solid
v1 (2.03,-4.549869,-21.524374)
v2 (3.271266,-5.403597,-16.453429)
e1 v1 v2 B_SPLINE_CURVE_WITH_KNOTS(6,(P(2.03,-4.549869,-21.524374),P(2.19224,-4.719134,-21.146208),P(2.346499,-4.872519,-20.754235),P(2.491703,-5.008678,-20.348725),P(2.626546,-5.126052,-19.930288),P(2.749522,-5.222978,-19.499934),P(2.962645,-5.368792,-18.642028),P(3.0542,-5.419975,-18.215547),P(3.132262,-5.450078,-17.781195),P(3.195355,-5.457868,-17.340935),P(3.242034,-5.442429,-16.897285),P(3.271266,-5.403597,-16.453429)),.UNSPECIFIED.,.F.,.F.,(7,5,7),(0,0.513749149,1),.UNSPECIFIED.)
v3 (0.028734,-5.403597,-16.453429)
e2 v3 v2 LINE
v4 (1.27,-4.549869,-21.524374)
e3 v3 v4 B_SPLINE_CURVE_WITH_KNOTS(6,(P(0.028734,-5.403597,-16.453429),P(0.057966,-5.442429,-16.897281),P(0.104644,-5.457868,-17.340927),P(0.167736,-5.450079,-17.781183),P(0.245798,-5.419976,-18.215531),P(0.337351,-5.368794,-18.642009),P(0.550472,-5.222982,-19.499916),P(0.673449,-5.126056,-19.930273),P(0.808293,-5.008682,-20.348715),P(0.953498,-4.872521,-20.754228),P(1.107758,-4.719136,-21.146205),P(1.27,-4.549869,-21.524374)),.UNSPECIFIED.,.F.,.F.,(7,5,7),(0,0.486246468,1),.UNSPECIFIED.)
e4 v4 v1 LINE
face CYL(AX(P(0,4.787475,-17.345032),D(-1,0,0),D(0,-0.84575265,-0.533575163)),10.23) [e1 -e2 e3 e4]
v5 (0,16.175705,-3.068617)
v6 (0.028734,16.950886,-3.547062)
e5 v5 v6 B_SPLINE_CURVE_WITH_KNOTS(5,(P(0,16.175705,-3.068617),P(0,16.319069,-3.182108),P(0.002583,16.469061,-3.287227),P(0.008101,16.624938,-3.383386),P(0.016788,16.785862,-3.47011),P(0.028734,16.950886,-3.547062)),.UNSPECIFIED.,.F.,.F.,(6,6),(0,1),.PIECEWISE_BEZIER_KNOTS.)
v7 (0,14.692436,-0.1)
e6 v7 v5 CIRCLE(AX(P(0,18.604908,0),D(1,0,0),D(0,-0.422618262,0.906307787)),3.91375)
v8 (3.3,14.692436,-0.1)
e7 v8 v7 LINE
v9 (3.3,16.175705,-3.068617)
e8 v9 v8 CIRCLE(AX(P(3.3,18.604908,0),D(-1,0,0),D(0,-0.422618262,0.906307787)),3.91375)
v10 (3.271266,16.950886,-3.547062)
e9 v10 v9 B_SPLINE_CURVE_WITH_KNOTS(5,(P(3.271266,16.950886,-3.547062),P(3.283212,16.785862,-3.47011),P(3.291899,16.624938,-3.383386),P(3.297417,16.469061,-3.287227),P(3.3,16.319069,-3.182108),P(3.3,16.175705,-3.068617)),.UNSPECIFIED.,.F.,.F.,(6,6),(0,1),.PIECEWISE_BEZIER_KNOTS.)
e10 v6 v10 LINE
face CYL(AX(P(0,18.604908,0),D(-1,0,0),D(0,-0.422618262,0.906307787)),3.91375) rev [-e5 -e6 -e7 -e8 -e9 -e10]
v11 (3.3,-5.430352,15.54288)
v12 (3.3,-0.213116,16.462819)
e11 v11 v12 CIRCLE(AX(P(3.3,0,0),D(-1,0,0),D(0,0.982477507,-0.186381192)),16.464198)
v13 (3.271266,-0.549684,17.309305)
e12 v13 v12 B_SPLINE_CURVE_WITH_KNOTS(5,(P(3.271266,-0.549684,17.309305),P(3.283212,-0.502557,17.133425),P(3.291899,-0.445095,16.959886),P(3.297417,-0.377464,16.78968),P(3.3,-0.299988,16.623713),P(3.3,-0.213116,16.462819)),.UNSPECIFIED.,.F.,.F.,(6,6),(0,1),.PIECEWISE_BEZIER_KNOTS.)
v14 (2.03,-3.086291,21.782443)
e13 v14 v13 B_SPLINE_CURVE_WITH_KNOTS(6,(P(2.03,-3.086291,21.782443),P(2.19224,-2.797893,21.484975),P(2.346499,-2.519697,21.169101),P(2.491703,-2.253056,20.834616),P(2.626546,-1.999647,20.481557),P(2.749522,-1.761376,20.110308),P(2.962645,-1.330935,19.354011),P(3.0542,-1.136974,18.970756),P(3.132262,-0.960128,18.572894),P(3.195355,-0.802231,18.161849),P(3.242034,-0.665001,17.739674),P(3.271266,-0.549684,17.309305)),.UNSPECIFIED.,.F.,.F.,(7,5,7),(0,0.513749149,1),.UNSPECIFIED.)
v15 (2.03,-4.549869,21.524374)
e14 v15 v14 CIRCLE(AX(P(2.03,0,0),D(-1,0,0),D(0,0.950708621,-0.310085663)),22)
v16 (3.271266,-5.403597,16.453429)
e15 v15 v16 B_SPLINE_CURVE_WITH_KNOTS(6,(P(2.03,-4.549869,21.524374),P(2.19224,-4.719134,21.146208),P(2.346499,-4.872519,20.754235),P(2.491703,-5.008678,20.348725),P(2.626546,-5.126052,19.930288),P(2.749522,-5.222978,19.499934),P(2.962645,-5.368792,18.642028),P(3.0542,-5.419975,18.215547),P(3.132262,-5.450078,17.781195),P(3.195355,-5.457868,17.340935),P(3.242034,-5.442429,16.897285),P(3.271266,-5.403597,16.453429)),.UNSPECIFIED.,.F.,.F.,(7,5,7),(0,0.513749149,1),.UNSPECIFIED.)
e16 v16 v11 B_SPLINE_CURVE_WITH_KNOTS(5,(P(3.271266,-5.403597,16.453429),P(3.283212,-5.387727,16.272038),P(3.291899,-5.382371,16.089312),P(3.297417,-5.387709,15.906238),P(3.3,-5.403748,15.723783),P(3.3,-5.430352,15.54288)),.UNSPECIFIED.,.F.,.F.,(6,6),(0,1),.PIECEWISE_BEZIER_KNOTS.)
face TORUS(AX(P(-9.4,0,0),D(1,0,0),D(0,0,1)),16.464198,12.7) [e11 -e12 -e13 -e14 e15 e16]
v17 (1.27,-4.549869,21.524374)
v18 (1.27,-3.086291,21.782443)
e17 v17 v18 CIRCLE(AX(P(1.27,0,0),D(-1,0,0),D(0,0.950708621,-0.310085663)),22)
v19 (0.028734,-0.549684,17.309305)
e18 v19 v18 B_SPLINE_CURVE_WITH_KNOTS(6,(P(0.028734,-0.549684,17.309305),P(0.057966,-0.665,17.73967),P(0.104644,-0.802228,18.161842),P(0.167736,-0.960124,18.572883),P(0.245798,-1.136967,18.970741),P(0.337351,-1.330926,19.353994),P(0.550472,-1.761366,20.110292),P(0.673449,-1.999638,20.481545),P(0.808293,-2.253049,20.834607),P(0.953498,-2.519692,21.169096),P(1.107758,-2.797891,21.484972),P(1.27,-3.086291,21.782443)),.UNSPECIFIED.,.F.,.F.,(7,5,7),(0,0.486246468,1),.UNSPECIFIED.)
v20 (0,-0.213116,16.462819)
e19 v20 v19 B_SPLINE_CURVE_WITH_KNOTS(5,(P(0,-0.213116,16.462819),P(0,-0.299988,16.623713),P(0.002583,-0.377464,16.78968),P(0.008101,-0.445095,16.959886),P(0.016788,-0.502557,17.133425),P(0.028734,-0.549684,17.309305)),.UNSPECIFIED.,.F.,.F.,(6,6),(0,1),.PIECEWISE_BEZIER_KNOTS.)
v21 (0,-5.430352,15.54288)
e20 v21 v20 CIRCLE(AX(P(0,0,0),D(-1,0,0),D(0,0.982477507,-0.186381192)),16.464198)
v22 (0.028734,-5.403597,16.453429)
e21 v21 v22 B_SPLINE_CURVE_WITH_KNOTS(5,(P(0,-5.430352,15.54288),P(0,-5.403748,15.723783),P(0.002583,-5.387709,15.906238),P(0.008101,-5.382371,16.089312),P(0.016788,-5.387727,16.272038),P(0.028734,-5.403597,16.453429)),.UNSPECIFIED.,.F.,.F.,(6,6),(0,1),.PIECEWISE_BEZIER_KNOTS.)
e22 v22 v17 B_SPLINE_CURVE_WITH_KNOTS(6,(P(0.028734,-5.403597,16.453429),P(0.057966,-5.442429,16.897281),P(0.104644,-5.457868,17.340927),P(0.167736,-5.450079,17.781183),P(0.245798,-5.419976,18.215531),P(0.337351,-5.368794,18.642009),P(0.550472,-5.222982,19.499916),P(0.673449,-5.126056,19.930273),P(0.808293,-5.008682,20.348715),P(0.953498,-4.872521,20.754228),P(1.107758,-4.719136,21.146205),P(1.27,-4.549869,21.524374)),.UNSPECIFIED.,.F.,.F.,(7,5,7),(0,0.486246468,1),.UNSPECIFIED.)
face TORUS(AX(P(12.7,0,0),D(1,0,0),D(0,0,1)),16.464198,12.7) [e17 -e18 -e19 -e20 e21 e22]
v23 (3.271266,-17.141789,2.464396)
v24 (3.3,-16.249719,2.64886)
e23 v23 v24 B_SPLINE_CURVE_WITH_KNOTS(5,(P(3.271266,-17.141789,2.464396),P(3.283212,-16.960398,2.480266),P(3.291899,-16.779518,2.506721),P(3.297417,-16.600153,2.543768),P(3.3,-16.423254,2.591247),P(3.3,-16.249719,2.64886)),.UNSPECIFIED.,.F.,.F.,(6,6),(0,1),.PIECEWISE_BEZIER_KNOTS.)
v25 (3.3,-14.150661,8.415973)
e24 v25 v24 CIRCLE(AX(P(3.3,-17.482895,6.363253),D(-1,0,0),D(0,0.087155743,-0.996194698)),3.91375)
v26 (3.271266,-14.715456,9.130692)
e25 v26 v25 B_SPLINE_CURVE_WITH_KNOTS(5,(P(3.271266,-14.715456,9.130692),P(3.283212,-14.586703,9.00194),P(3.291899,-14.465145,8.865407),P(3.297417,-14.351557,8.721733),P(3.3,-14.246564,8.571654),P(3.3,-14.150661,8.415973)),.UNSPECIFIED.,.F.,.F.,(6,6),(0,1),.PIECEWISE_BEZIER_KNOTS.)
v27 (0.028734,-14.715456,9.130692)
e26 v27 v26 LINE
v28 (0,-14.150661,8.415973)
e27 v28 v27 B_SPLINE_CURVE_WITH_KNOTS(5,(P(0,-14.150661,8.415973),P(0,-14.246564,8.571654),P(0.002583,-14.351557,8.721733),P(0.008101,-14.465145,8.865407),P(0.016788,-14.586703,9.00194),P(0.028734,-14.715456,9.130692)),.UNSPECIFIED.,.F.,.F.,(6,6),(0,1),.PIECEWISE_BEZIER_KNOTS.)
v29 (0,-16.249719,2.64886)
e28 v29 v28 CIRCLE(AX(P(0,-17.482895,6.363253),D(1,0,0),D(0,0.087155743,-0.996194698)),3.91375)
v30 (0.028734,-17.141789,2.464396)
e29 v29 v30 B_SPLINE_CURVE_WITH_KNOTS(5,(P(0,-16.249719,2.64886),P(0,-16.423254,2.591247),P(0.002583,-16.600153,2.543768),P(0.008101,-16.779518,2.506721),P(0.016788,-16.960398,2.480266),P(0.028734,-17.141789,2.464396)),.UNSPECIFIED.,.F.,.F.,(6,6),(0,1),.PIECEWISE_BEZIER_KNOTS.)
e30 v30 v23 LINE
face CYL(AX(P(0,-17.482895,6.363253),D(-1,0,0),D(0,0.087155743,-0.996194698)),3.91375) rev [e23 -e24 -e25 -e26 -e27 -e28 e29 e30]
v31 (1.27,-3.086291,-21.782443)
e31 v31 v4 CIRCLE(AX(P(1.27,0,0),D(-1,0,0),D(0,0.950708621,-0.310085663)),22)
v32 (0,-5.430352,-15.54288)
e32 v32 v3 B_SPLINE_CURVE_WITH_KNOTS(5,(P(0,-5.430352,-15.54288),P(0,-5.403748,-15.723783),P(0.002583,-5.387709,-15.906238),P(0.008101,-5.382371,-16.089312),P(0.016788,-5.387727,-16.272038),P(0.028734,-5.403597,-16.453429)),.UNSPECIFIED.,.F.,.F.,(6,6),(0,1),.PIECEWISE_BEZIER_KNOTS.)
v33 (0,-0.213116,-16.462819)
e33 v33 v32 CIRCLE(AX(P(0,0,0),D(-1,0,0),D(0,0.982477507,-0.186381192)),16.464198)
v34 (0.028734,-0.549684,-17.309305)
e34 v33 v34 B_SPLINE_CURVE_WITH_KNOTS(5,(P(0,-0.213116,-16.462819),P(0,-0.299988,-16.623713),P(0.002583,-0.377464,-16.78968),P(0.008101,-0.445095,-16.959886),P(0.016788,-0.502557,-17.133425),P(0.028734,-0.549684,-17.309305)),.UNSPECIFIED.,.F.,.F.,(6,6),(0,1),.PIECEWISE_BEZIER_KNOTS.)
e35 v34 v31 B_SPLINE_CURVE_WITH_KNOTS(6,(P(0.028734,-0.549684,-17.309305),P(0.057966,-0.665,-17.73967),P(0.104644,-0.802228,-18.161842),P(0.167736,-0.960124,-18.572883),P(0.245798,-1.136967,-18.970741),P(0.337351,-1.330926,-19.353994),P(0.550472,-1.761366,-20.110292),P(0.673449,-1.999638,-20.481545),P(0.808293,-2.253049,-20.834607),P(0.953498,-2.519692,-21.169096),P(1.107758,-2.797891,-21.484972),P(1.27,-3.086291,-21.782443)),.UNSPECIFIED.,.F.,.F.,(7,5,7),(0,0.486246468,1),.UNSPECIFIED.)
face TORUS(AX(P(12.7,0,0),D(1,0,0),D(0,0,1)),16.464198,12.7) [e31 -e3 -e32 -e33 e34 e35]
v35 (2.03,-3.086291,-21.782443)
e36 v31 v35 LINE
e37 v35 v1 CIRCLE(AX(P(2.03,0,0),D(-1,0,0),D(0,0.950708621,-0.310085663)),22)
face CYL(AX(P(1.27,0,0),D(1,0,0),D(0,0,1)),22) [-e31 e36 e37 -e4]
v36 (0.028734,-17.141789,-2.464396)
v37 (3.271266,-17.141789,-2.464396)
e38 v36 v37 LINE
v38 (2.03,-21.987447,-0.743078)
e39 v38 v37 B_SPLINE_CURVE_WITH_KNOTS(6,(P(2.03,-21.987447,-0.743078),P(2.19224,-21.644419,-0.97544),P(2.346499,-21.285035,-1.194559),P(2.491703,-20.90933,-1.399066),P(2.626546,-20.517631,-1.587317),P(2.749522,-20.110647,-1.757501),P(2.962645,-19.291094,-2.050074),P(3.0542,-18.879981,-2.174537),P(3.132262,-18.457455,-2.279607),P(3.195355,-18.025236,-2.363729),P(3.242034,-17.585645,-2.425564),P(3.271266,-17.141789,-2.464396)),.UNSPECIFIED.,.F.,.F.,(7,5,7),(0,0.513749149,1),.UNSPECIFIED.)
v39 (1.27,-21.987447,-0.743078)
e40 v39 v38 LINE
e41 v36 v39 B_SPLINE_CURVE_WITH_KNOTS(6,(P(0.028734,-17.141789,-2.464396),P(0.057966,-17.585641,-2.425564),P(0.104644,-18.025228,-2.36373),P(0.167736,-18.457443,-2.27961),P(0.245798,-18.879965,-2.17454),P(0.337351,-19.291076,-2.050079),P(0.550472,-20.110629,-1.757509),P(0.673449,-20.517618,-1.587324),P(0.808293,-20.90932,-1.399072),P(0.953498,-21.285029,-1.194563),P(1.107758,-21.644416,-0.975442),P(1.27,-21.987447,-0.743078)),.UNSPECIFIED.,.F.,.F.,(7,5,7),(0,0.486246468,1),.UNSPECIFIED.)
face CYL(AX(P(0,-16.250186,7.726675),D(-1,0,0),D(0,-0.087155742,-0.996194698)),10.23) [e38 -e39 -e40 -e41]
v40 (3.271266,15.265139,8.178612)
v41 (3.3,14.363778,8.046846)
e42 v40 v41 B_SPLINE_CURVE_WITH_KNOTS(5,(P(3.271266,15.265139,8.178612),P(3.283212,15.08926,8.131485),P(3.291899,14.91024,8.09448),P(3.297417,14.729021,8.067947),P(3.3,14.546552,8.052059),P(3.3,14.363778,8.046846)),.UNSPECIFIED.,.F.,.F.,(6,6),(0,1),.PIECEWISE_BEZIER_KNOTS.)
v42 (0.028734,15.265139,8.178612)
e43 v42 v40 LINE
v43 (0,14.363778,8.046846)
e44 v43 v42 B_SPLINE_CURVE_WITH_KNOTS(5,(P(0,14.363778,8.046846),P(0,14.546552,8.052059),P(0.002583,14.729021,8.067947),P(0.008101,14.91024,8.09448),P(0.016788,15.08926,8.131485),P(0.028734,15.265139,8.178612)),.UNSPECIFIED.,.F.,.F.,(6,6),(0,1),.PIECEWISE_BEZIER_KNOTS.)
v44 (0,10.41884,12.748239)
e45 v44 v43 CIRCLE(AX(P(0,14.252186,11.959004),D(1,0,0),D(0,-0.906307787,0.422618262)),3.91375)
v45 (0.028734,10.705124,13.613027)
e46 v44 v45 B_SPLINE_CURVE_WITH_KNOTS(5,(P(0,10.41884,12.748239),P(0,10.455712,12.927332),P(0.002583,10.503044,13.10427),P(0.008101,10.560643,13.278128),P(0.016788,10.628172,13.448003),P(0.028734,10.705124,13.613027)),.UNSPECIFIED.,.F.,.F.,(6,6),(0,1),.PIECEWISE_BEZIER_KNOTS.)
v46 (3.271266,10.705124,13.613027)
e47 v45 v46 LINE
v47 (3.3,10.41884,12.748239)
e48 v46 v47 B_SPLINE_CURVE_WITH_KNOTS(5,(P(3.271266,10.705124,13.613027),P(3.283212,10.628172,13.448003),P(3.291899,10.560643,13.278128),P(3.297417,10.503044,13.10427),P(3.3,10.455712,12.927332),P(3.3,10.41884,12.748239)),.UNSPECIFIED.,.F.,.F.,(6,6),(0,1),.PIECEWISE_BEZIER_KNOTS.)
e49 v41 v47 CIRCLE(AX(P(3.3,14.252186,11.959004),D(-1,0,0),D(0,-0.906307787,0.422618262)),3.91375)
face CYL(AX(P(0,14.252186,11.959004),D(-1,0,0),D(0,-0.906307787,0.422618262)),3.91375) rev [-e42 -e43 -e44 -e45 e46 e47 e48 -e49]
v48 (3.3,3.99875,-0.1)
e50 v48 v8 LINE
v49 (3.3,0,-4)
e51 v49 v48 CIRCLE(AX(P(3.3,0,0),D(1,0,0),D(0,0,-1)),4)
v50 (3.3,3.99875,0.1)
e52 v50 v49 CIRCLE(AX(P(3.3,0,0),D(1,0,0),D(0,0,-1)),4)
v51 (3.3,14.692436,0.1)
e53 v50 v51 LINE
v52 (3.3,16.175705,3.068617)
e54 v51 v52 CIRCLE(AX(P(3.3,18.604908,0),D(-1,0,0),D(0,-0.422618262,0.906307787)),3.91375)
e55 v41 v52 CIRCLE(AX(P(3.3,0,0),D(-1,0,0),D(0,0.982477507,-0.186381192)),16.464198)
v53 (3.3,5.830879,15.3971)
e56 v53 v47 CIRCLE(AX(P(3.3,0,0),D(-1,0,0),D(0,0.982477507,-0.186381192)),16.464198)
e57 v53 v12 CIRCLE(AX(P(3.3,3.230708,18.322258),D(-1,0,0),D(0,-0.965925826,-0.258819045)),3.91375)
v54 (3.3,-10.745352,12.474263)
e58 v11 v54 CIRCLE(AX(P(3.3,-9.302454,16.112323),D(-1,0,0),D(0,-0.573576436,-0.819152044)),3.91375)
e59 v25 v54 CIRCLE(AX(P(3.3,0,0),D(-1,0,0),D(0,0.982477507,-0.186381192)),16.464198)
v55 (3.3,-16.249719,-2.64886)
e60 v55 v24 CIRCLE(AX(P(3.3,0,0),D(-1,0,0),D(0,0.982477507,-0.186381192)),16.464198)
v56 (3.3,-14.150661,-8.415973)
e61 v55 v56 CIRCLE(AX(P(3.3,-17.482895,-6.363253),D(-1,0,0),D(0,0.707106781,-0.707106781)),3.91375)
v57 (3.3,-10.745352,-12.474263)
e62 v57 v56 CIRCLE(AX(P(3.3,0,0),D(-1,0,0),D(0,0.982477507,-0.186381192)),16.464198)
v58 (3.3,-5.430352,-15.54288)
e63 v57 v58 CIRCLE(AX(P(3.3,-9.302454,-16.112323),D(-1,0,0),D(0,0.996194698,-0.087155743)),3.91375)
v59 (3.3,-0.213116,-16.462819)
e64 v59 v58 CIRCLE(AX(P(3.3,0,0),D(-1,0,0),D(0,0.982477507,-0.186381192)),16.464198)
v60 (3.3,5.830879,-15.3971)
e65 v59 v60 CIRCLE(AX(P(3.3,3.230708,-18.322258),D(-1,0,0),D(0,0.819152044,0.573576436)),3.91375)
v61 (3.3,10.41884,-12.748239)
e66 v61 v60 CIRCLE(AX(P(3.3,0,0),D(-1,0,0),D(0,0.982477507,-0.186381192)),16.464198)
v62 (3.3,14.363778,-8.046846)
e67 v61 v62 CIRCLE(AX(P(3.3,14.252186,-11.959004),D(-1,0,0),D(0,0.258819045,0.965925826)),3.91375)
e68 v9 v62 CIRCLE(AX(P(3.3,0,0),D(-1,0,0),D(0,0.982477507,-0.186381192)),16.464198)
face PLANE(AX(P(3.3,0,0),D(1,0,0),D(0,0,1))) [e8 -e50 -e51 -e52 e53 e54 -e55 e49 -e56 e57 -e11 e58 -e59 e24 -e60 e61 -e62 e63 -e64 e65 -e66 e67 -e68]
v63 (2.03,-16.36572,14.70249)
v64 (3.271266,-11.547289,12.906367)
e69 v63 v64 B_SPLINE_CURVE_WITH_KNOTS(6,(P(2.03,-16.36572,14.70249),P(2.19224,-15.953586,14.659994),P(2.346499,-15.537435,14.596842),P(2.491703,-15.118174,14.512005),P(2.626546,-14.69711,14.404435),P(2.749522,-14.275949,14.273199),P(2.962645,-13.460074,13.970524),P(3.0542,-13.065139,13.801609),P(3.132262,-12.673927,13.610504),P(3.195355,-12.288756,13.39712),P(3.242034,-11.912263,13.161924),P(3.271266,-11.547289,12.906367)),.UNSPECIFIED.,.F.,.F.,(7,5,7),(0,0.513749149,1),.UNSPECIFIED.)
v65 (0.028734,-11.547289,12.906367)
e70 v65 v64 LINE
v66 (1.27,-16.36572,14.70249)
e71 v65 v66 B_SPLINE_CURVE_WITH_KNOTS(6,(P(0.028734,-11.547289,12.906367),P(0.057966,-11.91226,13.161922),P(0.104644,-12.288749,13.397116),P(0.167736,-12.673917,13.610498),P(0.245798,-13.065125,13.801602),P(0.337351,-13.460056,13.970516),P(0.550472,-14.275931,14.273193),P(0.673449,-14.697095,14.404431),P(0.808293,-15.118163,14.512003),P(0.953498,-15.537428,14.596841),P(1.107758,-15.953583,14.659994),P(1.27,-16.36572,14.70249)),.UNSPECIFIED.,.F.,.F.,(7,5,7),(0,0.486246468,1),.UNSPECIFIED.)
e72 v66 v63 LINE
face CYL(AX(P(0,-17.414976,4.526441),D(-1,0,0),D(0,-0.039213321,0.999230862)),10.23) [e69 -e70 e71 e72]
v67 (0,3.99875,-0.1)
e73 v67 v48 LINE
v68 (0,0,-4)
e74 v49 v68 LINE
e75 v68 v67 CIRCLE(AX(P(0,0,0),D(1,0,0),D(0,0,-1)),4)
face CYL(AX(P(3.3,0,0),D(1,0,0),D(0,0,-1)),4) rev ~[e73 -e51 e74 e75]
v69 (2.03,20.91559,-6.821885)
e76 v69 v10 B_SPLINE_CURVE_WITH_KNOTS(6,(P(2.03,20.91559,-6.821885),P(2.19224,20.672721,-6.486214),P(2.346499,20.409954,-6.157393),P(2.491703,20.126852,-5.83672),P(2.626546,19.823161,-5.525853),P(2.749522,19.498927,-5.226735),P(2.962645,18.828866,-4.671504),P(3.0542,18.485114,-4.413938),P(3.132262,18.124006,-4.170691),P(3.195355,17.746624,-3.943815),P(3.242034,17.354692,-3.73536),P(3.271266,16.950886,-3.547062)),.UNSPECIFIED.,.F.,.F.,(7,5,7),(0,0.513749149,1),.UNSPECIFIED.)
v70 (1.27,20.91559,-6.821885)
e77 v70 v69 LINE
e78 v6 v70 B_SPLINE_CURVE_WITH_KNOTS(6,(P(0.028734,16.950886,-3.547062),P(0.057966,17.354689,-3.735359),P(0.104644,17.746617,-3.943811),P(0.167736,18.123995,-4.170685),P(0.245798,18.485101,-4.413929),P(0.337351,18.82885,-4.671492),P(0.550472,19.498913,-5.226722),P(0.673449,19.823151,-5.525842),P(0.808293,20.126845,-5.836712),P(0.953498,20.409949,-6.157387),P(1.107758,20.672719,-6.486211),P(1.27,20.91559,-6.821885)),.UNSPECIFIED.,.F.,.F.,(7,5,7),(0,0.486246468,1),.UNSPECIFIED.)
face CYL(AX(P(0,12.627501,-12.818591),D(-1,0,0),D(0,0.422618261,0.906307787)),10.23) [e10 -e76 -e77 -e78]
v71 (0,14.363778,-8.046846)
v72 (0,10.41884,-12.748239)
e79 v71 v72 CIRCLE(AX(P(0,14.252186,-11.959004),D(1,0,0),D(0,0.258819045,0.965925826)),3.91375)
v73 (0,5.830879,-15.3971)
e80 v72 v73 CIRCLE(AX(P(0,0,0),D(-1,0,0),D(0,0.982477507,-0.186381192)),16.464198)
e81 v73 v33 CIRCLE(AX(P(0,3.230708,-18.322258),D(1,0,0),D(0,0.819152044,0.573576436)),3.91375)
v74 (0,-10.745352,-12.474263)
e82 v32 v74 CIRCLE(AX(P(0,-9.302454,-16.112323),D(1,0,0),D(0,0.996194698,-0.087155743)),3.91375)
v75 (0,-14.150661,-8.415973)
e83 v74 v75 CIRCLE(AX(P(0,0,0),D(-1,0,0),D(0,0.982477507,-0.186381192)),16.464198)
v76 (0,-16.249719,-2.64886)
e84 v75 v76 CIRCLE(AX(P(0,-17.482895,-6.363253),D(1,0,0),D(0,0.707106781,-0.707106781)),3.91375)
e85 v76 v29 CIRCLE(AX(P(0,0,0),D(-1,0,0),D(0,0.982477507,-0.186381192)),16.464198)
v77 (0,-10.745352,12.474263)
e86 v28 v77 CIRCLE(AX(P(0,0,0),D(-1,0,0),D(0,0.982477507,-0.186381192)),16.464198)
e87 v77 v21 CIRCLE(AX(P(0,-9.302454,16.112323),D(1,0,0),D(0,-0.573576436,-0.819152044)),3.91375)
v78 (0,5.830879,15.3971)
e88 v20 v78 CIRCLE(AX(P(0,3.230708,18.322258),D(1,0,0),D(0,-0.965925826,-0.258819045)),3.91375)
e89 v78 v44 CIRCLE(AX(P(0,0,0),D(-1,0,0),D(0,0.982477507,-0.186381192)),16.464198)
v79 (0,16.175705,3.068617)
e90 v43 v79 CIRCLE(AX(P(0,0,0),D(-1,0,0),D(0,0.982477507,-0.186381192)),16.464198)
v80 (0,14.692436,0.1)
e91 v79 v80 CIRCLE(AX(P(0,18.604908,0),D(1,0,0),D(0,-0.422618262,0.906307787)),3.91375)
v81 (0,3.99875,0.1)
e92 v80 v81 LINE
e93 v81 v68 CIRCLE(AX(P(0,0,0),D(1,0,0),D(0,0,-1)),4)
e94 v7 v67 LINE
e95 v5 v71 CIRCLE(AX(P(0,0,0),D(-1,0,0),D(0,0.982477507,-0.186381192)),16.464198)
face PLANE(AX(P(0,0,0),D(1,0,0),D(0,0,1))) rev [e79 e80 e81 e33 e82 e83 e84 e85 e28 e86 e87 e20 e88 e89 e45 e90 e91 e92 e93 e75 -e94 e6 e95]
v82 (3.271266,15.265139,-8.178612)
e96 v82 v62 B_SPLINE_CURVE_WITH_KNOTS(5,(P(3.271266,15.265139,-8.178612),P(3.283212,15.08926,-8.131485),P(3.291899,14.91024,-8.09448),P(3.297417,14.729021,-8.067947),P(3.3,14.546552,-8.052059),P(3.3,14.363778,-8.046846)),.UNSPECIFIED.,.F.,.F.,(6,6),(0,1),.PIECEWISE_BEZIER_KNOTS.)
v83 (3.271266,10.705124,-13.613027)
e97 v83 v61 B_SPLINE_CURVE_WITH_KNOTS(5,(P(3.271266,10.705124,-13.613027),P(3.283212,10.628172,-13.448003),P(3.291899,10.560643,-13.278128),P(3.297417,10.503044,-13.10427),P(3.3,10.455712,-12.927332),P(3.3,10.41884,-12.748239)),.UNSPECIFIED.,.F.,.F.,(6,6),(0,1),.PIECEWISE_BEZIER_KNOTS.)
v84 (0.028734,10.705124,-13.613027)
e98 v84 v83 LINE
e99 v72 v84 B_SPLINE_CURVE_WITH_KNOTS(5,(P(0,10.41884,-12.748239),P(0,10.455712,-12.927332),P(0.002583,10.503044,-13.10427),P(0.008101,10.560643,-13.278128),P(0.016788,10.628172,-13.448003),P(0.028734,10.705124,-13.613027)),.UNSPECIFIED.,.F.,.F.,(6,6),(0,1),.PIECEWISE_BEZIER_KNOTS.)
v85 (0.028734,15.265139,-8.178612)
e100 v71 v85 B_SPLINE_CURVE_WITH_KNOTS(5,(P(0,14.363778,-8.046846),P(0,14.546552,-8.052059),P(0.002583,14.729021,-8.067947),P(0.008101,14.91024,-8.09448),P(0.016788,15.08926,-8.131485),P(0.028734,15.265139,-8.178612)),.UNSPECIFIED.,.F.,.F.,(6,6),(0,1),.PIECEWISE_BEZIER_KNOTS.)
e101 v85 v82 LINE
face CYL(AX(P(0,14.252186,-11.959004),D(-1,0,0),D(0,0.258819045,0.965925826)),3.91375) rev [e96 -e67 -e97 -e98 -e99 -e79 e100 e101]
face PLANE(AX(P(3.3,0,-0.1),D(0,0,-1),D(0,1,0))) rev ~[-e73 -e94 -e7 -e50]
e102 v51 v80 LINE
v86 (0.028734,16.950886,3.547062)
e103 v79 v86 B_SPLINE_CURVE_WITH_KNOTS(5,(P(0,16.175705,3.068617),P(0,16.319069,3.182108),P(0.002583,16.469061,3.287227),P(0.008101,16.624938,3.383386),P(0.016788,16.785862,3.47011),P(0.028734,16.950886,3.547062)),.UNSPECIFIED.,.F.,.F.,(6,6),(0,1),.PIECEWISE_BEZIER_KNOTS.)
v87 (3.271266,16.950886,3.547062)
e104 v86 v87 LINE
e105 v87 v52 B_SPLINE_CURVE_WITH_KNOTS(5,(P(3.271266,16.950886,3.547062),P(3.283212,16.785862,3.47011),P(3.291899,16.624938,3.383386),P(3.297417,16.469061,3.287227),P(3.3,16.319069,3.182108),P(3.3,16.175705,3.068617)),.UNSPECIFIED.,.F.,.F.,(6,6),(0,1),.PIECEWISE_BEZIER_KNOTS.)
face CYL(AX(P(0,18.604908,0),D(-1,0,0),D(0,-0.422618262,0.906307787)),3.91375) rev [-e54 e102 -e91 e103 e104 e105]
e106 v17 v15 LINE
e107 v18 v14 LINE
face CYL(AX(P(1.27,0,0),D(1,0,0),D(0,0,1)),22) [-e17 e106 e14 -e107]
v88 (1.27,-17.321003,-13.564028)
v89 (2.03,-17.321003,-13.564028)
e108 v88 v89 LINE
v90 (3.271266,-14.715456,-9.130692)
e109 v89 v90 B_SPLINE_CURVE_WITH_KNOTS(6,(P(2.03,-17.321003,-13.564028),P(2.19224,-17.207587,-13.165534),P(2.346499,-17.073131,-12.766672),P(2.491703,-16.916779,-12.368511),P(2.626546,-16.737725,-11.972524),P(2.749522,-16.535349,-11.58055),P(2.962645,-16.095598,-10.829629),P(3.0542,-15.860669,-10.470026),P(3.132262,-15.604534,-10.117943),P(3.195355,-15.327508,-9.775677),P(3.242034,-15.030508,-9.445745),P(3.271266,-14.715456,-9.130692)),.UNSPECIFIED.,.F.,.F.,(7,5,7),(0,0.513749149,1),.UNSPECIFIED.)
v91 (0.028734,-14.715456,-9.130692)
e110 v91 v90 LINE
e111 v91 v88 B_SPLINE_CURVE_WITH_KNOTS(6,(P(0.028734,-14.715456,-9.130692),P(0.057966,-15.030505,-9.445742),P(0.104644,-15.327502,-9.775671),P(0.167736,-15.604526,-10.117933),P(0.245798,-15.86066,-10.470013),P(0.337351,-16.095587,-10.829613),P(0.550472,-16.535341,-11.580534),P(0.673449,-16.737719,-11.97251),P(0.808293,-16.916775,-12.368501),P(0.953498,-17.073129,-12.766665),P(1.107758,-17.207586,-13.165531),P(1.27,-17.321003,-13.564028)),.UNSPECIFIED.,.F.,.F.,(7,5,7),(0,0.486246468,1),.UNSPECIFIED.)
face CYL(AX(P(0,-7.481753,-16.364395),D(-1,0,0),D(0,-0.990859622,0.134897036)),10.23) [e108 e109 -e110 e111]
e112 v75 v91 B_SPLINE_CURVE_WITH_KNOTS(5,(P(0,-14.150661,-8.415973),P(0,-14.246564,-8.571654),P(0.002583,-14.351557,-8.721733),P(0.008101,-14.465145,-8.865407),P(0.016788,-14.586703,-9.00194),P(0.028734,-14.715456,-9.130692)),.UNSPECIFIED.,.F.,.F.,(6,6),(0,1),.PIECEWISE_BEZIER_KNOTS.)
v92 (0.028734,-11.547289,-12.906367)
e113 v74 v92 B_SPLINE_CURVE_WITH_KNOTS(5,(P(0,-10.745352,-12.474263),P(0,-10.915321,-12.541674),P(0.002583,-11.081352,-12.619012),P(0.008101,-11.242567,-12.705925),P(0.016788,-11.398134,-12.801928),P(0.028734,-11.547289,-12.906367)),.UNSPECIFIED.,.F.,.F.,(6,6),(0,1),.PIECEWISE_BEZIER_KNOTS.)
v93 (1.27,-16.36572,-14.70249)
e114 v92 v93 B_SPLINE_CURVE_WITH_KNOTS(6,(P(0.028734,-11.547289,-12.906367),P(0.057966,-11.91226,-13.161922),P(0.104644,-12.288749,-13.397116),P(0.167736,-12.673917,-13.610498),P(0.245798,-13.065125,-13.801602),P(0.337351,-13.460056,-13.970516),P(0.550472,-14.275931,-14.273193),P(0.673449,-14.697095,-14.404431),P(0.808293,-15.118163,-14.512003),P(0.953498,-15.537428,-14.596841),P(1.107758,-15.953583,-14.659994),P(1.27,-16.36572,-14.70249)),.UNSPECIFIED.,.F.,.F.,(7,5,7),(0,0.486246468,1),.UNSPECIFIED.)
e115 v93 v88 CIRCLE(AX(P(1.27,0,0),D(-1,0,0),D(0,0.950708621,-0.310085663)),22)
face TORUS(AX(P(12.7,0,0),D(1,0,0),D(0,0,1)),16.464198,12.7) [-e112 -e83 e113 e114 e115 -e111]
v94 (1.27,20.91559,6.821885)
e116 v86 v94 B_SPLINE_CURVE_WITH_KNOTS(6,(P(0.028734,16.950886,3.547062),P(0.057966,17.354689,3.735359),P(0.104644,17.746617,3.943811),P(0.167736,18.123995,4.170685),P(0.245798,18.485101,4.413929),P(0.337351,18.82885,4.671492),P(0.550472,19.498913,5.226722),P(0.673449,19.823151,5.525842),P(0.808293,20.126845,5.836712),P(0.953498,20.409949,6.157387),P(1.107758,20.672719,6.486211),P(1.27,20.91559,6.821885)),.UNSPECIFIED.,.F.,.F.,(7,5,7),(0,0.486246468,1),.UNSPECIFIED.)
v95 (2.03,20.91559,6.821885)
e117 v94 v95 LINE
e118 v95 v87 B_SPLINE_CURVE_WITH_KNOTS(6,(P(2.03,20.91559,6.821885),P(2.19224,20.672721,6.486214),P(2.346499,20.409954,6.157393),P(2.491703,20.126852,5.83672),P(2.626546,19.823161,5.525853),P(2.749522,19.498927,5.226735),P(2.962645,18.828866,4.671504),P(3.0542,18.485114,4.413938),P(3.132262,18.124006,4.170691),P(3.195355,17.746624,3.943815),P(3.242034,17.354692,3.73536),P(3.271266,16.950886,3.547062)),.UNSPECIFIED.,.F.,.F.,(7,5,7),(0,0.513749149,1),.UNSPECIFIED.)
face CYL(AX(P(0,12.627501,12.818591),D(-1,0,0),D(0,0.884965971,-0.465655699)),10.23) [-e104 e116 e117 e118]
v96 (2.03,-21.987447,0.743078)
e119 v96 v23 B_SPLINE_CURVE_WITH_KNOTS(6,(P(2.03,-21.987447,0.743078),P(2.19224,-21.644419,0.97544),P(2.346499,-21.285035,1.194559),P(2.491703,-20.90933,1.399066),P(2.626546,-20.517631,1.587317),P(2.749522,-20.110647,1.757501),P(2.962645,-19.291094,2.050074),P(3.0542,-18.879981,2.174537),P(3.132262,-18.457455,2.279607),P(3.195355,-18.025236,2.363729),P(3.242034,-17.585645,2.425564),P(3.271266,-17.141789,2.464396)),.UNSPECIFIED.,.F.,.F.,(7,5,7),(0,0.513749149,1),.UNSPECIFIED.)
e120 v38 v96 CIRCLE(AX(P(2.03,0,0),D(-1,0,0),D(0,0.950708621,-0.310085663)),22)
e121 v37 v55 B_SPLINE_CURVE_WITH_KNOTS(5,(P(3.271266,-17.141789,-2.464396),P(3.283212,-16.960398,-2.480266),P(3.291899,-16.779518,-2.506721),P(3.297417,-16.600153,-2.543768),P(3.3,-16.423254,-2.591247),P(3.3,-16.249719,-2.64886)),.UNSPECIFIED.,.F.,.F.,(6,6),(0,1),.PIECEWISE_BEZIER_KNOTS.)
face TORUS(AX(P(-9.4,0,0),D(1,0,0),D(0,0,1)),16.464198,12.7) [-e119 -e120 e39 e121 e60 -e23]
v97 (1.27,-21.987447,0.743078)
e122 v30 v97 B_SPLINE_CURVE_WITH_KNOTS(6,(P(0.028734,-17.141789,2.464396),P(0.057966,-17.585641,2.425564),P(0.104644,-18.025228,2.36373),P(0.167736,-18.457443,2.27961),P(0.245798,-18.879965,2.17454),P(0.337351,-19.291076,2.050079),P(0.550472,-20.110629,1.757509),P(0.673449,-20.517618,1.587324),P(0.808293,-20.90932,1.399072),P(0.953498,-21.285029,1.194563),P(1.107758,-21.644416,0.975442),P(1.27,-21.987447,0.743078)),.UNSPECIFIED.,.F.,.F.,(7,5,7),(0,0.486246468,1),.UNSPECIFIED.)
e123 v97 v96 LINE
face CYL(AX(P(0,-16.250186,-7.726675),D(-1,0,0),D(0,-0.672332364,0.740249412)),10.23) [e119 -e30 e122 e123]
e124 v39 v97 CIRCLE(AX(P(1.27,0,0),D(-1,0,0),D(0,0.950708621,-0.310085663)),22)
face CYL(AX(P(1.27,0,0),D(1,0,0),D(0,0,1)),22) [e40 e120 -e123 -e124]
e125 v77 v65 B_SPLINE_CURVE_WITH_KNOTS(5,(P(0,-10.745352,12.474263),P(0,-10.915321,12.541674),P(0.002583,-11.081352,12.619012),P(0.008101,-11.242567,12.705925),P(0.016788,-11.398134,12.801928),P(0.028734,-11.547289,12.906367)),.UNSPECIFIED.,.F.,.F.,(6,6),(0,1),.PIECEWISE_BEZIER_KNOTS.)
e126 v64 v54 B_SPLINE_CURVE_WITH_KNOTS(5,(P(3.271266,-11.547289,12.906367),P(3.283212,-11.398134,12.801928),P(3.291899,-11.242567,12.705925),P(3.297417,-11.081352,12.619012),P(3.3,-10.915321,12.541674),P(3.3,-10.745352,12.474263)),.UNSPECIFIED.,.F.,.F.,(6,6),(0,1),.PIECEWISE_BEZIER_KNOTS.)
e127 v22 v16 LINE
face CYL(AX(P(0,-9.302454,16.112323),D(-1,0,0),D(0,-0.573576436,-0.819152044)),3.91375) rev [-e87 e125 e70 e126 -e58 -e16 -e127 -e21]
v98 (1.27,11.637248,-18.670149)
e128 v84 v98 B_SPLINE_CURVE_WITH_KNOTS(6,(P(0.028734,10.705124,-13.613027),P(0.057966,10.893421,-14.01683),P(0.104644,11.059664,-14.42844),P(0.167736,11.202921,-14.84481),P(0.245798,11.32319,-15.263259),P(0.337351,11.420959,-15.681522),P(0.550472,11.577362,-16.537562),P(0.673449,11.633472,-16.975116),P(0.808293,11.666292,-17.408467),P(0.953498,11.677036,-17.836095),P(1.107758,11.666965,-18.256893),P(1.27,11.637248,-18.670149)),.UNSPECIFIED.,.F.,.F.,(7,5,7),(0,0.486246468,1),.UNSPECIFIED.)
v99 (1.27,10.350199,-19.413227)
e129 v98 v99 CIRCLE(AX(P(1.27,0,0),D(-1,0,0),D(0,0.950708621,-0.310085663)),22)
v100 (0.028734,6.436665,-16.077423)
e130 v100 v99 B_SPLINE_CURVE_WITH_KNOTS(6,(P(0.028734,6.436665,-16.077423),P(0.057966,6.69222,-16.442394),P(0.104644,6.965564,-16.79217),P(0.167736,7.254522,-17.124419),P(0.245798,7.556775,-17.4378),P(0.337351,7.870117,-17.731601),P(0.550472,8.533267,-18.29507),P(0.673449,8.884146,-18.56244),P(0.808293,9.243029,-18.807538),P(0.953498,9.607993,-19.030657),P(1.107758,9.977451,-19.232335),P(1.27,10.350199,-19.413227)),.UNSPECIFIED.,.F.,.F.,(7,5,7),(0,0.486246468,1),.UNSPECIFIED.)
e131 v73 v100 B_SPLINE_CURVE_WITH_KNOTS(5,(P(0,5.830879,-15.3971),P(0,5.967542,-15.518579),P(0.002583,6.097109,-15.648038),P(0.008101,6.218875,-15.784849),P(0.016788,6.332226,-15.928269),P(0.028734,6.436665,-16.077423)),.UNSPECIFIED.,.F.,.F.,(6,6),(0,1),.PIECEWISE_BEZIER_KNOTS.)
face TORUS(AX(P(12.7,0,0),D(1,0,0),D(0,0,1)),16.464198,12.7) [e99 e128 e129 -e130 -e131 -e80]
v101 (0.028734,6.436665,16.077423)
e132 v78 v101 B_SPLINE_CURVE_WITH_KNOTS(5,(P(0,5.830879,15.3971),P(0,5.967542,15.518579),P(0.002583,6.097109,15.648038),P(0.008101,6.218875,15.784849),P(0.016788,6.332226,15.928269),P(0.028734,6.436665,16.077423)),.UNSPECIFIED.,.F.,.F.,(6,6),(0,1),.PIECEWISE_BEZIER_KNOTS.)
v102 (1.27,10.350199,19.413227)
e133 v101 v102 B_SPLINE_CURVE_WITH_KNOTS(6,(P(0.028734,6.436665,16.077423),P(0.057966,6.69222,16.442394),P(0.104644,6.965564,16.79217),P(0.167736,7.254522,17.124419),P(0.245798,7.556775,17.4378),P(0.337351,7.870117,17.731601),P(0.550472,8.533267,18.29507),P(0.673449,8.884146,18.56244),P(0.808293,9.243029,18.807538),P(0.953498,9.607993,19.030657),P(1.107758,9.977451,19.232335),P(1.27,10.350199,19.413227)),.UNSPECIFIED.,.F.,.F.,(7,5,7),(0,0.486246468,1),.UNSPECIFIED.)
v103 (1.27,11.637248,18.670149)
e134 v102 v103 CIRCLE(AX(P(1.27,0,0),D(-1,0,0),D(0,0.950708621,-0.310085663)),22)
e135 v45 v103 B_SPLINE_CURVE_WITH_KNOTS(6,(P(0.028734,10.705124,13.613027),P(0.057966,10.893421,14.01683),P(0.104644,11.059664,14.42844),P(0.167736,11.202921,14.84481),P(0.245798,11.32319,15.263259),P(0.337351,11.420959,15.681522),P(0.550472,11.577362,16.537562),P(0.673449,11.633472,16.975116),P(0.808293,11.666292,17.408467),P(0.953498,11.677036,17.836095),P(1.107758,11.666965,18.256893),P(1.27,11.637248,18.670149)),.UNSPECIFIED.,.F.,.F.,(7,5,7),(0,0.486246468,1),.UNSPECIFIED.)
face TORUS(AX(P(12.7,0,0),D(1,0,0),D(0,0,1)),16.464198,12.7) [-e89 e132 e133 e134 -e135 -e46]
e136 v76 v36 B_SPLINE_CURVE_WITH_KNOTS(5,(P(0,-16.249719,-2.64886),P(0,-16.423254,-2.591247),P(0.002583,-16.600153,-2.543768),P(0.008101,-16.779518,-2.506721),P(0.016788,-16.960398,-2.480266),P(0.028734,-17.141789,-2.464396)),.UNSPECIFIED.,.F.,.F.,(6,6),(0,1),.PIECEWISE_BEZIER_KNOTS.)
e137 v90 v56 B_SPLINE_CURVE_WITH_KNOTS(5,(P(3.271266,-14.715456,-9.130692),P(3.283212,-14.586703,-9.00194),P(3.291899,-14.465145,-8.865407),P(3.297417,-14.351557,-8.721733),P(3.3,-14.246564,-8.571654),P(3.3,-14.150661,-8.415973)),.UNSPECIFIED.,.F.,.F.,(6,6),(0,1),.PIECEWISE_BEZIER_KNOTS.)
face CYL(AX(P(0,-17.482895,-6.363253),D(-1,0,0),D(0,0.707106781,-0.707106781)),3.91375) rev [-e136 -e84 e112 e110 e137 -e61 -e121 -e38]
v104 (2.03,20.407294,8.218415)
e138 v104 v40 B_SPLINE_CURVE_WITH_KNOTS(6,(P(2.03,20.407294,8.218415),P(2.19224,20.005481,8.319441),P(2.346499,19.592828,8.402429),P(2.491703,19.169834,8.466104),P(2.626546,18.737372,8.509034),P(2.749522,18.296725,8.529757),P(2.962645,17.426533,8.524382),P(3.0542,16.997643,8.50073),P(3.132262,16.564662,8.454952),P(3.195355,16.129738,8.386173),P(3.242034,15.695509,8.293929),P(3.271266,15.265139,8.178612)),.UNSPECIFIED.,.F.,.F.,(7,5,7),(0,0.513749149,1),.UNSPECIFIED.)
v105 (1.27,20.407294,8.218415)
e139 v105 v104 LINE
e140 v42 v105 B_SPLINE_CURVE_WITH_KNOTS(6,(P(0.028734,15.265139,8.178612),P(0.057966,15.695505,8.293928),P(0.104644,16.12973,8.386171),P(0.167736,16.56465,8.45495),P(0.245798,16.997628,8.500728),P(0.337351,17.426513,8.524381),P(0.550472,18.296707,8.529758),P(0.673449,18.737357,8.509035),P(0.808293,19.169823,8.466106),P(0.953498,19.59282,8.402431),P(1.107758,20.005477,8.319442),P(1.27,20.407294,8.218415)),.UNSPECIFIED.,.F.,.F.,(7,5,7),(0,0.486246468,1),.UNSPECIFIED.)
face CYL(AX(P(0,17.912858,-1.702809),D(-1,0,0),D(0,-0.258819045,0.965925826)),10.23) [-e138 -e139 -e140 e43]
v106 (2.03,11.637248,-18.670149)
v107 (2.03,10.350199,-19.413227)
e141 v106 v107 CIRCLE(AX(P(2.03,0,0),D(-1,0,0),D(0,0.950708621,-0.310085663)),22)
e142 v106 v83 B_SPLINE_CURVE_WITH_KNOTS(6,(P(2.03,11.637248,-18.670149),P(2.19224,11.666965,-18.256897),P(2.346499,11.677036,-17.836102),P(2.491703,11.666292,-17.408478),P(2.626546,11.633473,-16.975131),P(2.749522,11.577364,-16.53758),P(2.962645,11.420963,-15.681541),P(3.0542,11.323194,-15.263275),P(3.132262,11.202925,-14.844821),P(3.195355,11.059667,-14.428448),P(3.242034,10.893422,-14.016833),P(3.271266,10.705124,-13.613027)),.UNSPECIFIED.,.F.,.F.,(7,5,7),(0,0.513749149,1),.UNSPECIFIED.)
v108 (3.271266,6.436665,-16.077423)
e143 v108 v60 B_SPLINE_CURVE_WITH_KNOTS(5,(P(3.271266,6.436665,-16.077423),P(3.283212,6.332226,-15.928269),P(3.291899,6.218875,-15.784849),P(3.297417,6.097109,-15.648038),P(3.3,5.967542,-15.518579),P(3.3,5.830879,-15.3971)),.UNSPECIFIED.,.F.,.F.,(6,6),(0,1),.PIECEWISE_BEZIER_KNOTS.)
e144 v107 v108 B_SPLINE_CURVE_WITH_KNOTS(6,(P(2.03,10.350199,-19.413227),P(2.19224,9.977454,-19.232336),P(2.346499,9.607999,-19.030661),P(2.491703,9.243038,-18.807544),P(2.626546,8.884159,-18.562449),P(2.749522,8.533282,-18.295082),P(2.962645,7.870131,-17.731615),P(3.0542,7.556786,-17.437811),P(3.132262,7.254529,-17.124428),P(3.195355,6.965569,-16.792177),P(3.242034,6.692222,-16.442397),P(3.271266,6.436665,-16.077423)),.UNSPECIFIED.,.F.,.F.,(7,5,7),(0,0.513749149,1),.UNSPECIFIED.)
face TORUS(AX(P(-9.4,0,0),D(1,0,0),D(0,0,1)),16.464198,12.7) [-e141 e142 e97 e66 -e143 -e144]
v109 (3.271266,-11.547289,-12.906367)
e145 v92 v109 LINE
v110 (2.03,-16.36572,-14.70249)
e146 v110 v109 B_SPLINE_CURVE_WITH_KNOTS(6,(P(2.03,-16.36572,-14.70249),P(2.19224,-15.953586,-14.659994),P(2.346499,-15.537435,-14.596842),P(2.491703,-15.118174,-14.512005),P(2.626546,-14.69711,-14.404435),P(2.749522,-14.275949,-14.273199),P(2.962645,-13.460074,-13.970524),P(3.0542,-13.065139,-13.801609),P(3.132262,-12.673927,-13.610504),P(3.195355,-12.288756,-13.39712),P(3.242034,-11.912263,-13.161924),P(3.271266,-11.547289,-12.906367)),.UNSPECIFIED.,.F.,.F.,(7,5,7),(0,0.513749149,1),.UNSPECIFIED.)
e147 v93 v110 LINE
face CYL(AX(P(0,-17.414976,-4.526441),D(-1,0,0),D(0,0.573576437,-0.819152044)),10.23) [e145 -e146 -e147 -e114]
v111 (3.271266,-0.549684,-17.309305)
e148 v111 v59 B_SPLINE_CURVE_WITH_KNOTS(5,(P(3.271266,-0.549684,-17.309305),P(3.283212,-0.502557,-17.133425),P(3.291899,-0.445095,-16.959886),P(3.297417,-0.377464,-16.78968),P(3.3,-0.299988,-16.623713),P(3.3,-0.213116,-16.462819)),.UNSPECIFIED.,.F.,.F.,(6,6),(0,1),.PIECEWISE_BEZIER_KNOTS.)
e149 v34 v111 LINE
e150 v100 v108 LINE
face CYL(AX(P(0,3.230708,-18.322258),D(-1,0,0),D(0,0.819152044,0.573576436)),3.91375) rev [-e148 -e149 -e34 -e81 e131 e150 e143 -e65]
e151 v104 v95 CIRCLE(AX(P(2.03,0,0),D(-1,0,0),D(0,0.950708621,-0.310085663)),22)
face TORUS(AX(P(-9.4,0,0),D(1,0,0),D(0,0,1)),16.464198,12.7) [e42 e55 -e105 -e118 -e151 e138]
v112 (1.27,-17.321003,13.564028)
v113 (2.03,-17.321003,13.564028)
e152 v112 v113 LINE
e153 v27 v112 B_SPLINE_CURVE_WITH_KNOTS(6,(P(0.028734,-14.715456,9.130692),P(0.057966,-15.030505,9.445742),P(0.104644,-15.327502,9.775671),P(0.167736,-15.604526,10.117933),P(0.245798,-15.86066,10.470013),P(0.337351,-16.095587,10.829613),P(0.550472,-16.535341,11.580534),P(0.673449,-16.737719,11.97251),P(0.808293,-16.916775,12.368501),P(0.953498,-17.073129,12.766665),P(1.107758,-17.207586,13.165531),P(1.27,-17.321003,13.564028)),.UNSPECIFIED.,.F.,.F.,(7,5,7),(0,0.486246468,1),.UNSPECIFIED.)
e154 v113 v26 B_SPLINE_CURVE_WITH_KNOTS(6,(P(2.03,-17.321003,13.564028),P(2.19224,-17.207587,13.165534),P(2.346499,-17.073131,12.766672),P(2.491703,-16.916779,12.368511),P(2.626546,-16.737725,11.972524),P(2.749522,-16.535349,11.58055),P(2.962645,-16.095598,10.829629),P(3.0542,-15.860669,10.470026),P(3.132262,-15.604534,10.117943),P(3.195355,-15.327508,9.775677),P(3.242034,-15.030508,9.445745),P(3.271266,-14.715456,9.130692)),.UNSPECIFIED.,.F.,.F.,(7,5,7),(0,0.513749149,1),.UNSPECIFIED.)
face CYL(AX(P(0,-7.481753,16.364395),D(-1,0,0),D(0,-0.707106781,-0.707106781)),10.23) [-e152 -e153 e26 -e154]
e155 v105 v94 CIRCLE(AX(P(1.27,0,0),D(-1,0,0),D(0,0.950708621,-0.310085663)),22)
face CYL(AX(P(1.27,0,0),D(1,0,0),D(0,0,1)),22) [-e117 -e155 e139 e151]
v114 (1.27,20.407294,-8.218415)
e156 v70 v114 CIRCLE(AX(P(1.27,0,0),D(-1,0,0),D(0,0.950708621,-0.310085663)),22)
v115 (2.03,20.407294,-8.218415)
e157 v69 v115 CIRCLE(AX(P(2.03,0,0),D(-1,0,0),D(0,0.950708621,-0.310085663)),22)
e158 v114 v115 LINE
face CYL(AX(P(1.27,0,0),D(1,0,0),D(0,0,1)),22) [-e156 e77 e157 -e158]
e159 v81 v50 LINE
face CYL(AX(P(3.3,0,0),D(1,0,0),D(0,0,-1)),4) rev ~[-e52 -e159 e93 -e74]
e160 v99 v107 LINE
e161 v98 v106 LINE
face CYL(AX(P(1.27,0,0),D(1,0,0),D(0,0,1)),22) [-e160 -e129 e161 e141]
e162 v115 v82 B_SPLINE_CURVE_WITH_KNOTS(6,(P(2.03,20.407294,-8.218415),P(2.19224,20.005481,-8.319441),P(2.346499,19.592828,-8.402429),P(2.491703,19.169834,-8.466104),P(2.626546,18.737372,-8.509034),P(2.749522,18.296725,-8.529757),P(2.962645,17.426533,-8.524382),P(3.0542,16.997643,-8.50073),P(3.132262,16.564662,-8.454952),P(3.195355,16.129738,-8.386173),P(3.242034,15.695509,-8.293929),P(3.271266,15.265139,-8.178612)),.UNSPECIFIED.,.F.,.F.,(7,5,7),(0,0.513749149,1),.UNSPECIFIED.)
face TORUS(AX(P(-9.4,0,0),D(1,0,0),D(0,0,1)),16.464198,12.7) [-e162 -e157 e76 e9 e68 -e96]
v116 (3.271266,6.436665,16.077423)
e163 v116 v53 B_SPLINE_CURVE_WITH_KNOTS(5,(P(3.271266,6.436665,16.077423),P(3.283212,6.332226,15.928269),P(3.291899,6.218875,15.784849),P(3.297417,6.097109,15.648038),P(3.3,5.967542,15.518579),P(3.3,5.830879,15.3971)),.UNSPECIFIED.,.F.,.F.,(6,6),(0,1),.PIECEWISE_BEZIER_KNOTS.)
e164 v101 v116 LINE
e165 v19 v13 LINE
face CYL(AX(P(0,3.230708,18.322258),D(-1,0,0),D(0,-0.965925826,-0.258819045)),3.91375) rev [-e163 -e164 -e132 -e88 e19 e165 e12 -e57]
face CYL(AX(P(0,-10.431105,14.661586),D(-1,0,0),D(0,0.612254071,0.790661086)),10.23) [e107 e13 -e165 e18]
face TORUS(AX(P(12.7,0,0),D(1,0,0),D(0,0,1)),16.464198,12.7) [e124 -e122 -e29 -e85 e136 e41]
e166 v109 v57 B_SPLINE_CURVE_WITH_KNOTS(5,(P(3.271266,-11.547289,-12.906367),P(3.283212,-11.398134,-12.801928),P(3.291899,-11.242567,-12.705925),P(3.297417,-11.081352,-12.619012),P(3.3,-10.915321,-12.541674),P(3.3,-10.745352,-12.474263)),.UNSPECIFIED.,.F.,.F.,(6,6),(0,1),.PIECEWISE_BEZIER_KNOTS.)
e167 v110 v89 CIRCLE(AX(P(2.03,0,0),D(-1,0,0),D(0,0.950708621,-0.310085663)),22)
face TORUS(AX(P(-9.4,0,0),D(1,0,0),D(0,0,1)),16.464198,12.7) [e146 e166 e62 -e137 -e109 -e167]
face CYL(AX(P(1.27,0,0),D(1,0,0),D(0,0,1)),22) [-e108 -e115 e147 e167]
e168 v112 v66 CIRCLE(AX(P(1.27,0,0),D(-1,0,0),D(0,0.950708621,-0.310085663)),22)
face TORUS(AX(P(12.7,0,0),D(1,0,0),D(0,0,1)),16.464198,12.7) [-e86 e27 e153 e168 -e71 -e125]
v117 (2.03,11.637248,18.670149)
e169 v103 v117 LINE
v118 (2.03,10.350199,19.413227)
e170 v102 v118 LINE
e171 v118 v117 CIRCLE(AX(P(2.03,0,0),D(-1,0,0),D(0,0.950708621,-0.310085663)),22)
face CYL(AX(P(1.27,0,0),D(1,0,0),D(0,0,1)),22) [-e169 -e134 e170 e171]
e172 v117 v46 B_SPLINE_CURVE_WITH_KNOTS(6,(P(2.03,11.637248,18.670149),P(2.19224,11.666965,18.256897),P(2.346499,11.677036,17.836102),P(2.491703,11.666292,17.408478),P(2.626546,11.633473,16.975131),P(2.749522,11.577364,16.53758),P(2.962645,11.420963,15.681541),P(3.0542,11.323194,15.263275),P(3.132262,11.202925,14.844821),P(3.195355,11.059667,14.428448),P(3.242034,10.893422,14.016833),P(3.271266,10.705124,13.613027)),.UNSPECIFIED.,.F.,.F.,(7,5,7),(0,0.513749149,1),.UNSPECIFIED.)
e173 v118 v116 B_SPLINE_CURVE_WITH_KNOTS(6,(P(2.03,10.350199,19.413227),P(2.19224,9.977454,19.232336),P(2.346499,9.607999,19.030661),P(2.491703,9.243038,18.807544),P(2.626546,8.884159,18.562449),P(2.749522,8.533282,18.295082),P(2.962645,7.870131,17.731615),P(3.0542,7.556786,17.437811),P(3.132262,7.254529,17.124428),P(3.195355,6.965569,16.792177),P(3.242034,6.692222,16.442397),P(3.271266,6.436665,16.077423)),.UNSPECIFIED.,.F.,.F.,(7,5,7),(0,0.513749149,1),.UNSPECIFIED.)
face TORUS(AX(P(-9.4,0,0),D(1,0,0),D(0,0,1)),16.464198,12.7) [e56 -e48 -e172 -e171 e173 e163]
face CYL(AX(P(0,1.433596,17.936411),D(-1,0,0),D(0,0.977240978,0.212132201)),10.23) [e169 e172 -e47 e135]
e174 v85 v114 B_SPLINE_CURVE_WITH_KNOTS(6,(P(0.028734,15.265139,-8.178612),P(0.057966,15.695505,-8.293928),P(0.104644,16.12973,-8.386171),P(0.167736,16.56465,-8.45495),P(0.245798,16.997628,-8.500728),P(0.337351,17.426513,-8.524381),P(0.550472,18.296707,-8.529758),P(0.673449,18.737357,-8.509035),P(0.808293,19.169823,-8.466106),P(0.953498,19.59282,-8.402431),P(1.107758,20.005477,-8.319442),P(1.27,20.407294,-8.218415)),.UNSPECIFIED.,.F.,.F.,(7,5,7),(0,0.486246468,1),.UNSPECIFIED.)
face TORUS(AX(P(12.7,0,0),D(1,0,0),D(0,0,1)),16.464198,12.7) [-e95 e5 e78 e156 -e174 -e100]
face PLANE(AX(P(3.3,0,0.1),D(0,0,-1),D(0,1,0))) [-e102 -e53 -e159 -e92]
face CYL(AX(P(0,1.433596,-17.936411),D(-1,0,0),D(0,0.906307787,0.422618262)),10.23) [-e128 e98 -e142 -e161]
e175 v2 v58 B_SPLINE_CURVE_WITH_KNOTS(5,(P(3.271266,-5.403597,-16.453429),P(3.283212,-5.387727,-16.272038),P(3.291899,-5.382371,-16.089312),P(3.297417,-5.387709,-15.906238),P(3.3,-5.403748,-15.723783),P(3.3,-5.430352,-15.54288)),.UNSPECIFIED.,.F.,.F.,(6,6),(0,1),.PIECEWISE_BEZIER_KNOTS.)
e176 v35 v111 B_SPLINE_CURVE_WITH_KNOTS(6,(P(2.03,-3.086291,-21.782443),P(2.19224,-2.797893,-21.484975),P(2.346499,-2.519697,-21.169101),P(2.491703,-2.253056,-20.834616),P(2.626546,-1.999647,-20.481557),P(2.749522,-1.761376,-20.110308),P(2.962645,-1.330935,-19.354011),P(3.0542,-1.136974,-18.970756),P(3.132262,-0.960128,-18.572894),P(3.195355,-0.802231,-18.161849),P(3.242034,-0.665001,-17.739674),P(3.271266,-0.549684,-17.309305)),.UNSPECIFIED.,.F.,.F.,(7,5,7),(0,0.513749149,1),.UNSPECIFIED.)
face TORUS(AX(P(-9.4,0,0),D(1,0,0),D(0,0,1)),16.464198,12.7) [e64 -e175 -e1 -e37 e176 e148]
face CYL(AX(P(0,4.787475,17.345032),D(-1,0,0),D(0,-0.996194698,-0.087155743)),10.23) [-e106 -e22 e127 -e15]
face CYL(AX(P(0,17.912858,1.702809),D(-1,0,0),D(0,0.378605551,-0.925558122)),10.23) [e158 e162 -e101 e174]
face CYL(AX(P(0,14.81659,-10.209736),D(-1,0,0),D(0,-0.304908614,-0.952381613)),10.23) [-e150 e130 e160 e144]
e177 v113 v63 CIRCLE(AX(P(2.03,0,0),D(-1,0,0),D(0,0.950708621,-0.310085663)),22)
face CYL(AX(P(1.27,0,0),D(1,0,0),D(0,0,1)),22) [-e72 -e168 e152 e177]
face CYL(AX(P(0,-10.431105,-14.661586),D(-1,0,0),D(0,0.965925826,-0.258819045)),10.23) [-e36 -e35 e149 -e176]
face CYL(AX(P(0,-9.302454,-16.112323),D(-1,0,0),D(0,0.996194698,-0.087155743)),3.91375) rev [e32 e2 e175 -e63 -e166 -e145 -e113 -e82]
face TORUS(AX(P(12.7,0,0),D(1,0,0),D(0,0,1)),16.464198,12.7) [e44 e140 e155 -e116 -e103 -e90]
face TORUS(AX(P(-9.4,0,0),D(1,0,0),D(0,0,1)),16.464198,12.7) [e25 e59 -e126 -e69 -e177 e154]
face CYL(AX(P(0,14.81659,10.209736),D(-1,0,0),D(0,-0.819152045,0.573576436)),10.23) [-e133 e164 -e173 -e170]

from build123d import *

# Parameters (mm, degrees)
CORTE_EXTRUS_O1_DEPTH = 32.287217837
PADR_OCIRCULAR2_COUNT = 9
ESBO_O6_R             = 4
CORTE_EXTRUS_O2_DEPTH = 32.134624111
ESBO_O7_W             = 0.2
ESBO_O7_H             = 30
CORTE_EXTRUS_O3_DEPTH = 10


with BuildPart() as part:
    # Esboço2 → Revolução1 (revolve)
    with BuildSketch(Plane.XY, mode=Mode.PRIVATE) as revolu_o1_sk:
        with BuildLine():
            Line((0, 0), (0, 16.464198342))
            ThreePointArc((0, 16.464198342), (0.321571182, 19.304004673), (1.27, 22))
            Line((1.27, 22), (2.03, 22))
            ThreePointArc((2.03, 22), (2.978428818, 19.304004673), (3.3, 16.464198342))
            Line((3.3, 16.464198342), (3.3, 0))
            Line((3.3, 0), (0, 0))
        make_face()
    revolve(revolu_o1_sk.sketch.rotate(Axis((0, 0, 0), (1, 0, 0)), 90), axis=Axis((0, 0, 0), (1, 0, 0)))

    # Esboço5 → Corte-extrusão1 (cut, through all)
    with BuildSketch(Plane(origin=(0, 0, 0), x_dir=(0, 0, -1), z_dir=(1, 0, 0))):
        with BuildLine():
            ThreePointArc((3.547062102, 16.950885739), (5.413227359, 19.685368366), (8.05493296, 21.680702805))
            ThreePointArc((8.05493296, 21.680702805), (0, 23.128657961), (-8.05493296, 21.680702805))
            ThreePointArc((-8.05493296, 21.680702805), (-5.413227359, 19.685368366), (-3.547062102, 16.950885739))
            ThreePointArc((-3.547062102, 16.950885739), (0, 14.691157961), (3.547062102, 16.950885739))
        make_face()
    corte_extrus_o1 = extrude(amount=CORTE_EXTRUS_O1_DEPTH, mode=Mode.SUBTRACT)

    # PadrãoCircular2: Corte-extrusão1 ×9 about axis
    padr_ocircular2_axis = Axis((0, 0, 0), (1, 0, 0))
    for i in range(1, PADR_OCIRCULAR2_COUNT):
        add(corte_extrus_o1.rotate(padr_ocircular2_axis, i * 360 / PADR_OCIRCULAR2_COUNT), mode=Mode.SUBTRACT)

    # Esboço6 → Corte-extrusão2 (cut, through all)
    with BuildSketch(Plane(origin=(3.3, 0, 0), x_dir=(0, 0, -1), z_dir=(1, 0, 0))):
        Circle(ESBO_O6_R)
    extrude(amount=-CORTE_EXTRUS_O2_DEPTH, mode=Mode.SUBTRACT)

    # Esboço7 → Corte-extrusão3 (cut)
    with BuildSketch(Plane(origin=(3.3, 0, 0), x_dir=(0, 0, -1), z_dir=(1, 0, 0))):
        with Locations((0, 15)):
            Rectangle(ESBO_O7_W, ESBO_O7_H)
    extrude(amount=-CORTE_EXTRUS_O3_DEPTH, mode=Mode.SUBTRACT)


solid = part.part
